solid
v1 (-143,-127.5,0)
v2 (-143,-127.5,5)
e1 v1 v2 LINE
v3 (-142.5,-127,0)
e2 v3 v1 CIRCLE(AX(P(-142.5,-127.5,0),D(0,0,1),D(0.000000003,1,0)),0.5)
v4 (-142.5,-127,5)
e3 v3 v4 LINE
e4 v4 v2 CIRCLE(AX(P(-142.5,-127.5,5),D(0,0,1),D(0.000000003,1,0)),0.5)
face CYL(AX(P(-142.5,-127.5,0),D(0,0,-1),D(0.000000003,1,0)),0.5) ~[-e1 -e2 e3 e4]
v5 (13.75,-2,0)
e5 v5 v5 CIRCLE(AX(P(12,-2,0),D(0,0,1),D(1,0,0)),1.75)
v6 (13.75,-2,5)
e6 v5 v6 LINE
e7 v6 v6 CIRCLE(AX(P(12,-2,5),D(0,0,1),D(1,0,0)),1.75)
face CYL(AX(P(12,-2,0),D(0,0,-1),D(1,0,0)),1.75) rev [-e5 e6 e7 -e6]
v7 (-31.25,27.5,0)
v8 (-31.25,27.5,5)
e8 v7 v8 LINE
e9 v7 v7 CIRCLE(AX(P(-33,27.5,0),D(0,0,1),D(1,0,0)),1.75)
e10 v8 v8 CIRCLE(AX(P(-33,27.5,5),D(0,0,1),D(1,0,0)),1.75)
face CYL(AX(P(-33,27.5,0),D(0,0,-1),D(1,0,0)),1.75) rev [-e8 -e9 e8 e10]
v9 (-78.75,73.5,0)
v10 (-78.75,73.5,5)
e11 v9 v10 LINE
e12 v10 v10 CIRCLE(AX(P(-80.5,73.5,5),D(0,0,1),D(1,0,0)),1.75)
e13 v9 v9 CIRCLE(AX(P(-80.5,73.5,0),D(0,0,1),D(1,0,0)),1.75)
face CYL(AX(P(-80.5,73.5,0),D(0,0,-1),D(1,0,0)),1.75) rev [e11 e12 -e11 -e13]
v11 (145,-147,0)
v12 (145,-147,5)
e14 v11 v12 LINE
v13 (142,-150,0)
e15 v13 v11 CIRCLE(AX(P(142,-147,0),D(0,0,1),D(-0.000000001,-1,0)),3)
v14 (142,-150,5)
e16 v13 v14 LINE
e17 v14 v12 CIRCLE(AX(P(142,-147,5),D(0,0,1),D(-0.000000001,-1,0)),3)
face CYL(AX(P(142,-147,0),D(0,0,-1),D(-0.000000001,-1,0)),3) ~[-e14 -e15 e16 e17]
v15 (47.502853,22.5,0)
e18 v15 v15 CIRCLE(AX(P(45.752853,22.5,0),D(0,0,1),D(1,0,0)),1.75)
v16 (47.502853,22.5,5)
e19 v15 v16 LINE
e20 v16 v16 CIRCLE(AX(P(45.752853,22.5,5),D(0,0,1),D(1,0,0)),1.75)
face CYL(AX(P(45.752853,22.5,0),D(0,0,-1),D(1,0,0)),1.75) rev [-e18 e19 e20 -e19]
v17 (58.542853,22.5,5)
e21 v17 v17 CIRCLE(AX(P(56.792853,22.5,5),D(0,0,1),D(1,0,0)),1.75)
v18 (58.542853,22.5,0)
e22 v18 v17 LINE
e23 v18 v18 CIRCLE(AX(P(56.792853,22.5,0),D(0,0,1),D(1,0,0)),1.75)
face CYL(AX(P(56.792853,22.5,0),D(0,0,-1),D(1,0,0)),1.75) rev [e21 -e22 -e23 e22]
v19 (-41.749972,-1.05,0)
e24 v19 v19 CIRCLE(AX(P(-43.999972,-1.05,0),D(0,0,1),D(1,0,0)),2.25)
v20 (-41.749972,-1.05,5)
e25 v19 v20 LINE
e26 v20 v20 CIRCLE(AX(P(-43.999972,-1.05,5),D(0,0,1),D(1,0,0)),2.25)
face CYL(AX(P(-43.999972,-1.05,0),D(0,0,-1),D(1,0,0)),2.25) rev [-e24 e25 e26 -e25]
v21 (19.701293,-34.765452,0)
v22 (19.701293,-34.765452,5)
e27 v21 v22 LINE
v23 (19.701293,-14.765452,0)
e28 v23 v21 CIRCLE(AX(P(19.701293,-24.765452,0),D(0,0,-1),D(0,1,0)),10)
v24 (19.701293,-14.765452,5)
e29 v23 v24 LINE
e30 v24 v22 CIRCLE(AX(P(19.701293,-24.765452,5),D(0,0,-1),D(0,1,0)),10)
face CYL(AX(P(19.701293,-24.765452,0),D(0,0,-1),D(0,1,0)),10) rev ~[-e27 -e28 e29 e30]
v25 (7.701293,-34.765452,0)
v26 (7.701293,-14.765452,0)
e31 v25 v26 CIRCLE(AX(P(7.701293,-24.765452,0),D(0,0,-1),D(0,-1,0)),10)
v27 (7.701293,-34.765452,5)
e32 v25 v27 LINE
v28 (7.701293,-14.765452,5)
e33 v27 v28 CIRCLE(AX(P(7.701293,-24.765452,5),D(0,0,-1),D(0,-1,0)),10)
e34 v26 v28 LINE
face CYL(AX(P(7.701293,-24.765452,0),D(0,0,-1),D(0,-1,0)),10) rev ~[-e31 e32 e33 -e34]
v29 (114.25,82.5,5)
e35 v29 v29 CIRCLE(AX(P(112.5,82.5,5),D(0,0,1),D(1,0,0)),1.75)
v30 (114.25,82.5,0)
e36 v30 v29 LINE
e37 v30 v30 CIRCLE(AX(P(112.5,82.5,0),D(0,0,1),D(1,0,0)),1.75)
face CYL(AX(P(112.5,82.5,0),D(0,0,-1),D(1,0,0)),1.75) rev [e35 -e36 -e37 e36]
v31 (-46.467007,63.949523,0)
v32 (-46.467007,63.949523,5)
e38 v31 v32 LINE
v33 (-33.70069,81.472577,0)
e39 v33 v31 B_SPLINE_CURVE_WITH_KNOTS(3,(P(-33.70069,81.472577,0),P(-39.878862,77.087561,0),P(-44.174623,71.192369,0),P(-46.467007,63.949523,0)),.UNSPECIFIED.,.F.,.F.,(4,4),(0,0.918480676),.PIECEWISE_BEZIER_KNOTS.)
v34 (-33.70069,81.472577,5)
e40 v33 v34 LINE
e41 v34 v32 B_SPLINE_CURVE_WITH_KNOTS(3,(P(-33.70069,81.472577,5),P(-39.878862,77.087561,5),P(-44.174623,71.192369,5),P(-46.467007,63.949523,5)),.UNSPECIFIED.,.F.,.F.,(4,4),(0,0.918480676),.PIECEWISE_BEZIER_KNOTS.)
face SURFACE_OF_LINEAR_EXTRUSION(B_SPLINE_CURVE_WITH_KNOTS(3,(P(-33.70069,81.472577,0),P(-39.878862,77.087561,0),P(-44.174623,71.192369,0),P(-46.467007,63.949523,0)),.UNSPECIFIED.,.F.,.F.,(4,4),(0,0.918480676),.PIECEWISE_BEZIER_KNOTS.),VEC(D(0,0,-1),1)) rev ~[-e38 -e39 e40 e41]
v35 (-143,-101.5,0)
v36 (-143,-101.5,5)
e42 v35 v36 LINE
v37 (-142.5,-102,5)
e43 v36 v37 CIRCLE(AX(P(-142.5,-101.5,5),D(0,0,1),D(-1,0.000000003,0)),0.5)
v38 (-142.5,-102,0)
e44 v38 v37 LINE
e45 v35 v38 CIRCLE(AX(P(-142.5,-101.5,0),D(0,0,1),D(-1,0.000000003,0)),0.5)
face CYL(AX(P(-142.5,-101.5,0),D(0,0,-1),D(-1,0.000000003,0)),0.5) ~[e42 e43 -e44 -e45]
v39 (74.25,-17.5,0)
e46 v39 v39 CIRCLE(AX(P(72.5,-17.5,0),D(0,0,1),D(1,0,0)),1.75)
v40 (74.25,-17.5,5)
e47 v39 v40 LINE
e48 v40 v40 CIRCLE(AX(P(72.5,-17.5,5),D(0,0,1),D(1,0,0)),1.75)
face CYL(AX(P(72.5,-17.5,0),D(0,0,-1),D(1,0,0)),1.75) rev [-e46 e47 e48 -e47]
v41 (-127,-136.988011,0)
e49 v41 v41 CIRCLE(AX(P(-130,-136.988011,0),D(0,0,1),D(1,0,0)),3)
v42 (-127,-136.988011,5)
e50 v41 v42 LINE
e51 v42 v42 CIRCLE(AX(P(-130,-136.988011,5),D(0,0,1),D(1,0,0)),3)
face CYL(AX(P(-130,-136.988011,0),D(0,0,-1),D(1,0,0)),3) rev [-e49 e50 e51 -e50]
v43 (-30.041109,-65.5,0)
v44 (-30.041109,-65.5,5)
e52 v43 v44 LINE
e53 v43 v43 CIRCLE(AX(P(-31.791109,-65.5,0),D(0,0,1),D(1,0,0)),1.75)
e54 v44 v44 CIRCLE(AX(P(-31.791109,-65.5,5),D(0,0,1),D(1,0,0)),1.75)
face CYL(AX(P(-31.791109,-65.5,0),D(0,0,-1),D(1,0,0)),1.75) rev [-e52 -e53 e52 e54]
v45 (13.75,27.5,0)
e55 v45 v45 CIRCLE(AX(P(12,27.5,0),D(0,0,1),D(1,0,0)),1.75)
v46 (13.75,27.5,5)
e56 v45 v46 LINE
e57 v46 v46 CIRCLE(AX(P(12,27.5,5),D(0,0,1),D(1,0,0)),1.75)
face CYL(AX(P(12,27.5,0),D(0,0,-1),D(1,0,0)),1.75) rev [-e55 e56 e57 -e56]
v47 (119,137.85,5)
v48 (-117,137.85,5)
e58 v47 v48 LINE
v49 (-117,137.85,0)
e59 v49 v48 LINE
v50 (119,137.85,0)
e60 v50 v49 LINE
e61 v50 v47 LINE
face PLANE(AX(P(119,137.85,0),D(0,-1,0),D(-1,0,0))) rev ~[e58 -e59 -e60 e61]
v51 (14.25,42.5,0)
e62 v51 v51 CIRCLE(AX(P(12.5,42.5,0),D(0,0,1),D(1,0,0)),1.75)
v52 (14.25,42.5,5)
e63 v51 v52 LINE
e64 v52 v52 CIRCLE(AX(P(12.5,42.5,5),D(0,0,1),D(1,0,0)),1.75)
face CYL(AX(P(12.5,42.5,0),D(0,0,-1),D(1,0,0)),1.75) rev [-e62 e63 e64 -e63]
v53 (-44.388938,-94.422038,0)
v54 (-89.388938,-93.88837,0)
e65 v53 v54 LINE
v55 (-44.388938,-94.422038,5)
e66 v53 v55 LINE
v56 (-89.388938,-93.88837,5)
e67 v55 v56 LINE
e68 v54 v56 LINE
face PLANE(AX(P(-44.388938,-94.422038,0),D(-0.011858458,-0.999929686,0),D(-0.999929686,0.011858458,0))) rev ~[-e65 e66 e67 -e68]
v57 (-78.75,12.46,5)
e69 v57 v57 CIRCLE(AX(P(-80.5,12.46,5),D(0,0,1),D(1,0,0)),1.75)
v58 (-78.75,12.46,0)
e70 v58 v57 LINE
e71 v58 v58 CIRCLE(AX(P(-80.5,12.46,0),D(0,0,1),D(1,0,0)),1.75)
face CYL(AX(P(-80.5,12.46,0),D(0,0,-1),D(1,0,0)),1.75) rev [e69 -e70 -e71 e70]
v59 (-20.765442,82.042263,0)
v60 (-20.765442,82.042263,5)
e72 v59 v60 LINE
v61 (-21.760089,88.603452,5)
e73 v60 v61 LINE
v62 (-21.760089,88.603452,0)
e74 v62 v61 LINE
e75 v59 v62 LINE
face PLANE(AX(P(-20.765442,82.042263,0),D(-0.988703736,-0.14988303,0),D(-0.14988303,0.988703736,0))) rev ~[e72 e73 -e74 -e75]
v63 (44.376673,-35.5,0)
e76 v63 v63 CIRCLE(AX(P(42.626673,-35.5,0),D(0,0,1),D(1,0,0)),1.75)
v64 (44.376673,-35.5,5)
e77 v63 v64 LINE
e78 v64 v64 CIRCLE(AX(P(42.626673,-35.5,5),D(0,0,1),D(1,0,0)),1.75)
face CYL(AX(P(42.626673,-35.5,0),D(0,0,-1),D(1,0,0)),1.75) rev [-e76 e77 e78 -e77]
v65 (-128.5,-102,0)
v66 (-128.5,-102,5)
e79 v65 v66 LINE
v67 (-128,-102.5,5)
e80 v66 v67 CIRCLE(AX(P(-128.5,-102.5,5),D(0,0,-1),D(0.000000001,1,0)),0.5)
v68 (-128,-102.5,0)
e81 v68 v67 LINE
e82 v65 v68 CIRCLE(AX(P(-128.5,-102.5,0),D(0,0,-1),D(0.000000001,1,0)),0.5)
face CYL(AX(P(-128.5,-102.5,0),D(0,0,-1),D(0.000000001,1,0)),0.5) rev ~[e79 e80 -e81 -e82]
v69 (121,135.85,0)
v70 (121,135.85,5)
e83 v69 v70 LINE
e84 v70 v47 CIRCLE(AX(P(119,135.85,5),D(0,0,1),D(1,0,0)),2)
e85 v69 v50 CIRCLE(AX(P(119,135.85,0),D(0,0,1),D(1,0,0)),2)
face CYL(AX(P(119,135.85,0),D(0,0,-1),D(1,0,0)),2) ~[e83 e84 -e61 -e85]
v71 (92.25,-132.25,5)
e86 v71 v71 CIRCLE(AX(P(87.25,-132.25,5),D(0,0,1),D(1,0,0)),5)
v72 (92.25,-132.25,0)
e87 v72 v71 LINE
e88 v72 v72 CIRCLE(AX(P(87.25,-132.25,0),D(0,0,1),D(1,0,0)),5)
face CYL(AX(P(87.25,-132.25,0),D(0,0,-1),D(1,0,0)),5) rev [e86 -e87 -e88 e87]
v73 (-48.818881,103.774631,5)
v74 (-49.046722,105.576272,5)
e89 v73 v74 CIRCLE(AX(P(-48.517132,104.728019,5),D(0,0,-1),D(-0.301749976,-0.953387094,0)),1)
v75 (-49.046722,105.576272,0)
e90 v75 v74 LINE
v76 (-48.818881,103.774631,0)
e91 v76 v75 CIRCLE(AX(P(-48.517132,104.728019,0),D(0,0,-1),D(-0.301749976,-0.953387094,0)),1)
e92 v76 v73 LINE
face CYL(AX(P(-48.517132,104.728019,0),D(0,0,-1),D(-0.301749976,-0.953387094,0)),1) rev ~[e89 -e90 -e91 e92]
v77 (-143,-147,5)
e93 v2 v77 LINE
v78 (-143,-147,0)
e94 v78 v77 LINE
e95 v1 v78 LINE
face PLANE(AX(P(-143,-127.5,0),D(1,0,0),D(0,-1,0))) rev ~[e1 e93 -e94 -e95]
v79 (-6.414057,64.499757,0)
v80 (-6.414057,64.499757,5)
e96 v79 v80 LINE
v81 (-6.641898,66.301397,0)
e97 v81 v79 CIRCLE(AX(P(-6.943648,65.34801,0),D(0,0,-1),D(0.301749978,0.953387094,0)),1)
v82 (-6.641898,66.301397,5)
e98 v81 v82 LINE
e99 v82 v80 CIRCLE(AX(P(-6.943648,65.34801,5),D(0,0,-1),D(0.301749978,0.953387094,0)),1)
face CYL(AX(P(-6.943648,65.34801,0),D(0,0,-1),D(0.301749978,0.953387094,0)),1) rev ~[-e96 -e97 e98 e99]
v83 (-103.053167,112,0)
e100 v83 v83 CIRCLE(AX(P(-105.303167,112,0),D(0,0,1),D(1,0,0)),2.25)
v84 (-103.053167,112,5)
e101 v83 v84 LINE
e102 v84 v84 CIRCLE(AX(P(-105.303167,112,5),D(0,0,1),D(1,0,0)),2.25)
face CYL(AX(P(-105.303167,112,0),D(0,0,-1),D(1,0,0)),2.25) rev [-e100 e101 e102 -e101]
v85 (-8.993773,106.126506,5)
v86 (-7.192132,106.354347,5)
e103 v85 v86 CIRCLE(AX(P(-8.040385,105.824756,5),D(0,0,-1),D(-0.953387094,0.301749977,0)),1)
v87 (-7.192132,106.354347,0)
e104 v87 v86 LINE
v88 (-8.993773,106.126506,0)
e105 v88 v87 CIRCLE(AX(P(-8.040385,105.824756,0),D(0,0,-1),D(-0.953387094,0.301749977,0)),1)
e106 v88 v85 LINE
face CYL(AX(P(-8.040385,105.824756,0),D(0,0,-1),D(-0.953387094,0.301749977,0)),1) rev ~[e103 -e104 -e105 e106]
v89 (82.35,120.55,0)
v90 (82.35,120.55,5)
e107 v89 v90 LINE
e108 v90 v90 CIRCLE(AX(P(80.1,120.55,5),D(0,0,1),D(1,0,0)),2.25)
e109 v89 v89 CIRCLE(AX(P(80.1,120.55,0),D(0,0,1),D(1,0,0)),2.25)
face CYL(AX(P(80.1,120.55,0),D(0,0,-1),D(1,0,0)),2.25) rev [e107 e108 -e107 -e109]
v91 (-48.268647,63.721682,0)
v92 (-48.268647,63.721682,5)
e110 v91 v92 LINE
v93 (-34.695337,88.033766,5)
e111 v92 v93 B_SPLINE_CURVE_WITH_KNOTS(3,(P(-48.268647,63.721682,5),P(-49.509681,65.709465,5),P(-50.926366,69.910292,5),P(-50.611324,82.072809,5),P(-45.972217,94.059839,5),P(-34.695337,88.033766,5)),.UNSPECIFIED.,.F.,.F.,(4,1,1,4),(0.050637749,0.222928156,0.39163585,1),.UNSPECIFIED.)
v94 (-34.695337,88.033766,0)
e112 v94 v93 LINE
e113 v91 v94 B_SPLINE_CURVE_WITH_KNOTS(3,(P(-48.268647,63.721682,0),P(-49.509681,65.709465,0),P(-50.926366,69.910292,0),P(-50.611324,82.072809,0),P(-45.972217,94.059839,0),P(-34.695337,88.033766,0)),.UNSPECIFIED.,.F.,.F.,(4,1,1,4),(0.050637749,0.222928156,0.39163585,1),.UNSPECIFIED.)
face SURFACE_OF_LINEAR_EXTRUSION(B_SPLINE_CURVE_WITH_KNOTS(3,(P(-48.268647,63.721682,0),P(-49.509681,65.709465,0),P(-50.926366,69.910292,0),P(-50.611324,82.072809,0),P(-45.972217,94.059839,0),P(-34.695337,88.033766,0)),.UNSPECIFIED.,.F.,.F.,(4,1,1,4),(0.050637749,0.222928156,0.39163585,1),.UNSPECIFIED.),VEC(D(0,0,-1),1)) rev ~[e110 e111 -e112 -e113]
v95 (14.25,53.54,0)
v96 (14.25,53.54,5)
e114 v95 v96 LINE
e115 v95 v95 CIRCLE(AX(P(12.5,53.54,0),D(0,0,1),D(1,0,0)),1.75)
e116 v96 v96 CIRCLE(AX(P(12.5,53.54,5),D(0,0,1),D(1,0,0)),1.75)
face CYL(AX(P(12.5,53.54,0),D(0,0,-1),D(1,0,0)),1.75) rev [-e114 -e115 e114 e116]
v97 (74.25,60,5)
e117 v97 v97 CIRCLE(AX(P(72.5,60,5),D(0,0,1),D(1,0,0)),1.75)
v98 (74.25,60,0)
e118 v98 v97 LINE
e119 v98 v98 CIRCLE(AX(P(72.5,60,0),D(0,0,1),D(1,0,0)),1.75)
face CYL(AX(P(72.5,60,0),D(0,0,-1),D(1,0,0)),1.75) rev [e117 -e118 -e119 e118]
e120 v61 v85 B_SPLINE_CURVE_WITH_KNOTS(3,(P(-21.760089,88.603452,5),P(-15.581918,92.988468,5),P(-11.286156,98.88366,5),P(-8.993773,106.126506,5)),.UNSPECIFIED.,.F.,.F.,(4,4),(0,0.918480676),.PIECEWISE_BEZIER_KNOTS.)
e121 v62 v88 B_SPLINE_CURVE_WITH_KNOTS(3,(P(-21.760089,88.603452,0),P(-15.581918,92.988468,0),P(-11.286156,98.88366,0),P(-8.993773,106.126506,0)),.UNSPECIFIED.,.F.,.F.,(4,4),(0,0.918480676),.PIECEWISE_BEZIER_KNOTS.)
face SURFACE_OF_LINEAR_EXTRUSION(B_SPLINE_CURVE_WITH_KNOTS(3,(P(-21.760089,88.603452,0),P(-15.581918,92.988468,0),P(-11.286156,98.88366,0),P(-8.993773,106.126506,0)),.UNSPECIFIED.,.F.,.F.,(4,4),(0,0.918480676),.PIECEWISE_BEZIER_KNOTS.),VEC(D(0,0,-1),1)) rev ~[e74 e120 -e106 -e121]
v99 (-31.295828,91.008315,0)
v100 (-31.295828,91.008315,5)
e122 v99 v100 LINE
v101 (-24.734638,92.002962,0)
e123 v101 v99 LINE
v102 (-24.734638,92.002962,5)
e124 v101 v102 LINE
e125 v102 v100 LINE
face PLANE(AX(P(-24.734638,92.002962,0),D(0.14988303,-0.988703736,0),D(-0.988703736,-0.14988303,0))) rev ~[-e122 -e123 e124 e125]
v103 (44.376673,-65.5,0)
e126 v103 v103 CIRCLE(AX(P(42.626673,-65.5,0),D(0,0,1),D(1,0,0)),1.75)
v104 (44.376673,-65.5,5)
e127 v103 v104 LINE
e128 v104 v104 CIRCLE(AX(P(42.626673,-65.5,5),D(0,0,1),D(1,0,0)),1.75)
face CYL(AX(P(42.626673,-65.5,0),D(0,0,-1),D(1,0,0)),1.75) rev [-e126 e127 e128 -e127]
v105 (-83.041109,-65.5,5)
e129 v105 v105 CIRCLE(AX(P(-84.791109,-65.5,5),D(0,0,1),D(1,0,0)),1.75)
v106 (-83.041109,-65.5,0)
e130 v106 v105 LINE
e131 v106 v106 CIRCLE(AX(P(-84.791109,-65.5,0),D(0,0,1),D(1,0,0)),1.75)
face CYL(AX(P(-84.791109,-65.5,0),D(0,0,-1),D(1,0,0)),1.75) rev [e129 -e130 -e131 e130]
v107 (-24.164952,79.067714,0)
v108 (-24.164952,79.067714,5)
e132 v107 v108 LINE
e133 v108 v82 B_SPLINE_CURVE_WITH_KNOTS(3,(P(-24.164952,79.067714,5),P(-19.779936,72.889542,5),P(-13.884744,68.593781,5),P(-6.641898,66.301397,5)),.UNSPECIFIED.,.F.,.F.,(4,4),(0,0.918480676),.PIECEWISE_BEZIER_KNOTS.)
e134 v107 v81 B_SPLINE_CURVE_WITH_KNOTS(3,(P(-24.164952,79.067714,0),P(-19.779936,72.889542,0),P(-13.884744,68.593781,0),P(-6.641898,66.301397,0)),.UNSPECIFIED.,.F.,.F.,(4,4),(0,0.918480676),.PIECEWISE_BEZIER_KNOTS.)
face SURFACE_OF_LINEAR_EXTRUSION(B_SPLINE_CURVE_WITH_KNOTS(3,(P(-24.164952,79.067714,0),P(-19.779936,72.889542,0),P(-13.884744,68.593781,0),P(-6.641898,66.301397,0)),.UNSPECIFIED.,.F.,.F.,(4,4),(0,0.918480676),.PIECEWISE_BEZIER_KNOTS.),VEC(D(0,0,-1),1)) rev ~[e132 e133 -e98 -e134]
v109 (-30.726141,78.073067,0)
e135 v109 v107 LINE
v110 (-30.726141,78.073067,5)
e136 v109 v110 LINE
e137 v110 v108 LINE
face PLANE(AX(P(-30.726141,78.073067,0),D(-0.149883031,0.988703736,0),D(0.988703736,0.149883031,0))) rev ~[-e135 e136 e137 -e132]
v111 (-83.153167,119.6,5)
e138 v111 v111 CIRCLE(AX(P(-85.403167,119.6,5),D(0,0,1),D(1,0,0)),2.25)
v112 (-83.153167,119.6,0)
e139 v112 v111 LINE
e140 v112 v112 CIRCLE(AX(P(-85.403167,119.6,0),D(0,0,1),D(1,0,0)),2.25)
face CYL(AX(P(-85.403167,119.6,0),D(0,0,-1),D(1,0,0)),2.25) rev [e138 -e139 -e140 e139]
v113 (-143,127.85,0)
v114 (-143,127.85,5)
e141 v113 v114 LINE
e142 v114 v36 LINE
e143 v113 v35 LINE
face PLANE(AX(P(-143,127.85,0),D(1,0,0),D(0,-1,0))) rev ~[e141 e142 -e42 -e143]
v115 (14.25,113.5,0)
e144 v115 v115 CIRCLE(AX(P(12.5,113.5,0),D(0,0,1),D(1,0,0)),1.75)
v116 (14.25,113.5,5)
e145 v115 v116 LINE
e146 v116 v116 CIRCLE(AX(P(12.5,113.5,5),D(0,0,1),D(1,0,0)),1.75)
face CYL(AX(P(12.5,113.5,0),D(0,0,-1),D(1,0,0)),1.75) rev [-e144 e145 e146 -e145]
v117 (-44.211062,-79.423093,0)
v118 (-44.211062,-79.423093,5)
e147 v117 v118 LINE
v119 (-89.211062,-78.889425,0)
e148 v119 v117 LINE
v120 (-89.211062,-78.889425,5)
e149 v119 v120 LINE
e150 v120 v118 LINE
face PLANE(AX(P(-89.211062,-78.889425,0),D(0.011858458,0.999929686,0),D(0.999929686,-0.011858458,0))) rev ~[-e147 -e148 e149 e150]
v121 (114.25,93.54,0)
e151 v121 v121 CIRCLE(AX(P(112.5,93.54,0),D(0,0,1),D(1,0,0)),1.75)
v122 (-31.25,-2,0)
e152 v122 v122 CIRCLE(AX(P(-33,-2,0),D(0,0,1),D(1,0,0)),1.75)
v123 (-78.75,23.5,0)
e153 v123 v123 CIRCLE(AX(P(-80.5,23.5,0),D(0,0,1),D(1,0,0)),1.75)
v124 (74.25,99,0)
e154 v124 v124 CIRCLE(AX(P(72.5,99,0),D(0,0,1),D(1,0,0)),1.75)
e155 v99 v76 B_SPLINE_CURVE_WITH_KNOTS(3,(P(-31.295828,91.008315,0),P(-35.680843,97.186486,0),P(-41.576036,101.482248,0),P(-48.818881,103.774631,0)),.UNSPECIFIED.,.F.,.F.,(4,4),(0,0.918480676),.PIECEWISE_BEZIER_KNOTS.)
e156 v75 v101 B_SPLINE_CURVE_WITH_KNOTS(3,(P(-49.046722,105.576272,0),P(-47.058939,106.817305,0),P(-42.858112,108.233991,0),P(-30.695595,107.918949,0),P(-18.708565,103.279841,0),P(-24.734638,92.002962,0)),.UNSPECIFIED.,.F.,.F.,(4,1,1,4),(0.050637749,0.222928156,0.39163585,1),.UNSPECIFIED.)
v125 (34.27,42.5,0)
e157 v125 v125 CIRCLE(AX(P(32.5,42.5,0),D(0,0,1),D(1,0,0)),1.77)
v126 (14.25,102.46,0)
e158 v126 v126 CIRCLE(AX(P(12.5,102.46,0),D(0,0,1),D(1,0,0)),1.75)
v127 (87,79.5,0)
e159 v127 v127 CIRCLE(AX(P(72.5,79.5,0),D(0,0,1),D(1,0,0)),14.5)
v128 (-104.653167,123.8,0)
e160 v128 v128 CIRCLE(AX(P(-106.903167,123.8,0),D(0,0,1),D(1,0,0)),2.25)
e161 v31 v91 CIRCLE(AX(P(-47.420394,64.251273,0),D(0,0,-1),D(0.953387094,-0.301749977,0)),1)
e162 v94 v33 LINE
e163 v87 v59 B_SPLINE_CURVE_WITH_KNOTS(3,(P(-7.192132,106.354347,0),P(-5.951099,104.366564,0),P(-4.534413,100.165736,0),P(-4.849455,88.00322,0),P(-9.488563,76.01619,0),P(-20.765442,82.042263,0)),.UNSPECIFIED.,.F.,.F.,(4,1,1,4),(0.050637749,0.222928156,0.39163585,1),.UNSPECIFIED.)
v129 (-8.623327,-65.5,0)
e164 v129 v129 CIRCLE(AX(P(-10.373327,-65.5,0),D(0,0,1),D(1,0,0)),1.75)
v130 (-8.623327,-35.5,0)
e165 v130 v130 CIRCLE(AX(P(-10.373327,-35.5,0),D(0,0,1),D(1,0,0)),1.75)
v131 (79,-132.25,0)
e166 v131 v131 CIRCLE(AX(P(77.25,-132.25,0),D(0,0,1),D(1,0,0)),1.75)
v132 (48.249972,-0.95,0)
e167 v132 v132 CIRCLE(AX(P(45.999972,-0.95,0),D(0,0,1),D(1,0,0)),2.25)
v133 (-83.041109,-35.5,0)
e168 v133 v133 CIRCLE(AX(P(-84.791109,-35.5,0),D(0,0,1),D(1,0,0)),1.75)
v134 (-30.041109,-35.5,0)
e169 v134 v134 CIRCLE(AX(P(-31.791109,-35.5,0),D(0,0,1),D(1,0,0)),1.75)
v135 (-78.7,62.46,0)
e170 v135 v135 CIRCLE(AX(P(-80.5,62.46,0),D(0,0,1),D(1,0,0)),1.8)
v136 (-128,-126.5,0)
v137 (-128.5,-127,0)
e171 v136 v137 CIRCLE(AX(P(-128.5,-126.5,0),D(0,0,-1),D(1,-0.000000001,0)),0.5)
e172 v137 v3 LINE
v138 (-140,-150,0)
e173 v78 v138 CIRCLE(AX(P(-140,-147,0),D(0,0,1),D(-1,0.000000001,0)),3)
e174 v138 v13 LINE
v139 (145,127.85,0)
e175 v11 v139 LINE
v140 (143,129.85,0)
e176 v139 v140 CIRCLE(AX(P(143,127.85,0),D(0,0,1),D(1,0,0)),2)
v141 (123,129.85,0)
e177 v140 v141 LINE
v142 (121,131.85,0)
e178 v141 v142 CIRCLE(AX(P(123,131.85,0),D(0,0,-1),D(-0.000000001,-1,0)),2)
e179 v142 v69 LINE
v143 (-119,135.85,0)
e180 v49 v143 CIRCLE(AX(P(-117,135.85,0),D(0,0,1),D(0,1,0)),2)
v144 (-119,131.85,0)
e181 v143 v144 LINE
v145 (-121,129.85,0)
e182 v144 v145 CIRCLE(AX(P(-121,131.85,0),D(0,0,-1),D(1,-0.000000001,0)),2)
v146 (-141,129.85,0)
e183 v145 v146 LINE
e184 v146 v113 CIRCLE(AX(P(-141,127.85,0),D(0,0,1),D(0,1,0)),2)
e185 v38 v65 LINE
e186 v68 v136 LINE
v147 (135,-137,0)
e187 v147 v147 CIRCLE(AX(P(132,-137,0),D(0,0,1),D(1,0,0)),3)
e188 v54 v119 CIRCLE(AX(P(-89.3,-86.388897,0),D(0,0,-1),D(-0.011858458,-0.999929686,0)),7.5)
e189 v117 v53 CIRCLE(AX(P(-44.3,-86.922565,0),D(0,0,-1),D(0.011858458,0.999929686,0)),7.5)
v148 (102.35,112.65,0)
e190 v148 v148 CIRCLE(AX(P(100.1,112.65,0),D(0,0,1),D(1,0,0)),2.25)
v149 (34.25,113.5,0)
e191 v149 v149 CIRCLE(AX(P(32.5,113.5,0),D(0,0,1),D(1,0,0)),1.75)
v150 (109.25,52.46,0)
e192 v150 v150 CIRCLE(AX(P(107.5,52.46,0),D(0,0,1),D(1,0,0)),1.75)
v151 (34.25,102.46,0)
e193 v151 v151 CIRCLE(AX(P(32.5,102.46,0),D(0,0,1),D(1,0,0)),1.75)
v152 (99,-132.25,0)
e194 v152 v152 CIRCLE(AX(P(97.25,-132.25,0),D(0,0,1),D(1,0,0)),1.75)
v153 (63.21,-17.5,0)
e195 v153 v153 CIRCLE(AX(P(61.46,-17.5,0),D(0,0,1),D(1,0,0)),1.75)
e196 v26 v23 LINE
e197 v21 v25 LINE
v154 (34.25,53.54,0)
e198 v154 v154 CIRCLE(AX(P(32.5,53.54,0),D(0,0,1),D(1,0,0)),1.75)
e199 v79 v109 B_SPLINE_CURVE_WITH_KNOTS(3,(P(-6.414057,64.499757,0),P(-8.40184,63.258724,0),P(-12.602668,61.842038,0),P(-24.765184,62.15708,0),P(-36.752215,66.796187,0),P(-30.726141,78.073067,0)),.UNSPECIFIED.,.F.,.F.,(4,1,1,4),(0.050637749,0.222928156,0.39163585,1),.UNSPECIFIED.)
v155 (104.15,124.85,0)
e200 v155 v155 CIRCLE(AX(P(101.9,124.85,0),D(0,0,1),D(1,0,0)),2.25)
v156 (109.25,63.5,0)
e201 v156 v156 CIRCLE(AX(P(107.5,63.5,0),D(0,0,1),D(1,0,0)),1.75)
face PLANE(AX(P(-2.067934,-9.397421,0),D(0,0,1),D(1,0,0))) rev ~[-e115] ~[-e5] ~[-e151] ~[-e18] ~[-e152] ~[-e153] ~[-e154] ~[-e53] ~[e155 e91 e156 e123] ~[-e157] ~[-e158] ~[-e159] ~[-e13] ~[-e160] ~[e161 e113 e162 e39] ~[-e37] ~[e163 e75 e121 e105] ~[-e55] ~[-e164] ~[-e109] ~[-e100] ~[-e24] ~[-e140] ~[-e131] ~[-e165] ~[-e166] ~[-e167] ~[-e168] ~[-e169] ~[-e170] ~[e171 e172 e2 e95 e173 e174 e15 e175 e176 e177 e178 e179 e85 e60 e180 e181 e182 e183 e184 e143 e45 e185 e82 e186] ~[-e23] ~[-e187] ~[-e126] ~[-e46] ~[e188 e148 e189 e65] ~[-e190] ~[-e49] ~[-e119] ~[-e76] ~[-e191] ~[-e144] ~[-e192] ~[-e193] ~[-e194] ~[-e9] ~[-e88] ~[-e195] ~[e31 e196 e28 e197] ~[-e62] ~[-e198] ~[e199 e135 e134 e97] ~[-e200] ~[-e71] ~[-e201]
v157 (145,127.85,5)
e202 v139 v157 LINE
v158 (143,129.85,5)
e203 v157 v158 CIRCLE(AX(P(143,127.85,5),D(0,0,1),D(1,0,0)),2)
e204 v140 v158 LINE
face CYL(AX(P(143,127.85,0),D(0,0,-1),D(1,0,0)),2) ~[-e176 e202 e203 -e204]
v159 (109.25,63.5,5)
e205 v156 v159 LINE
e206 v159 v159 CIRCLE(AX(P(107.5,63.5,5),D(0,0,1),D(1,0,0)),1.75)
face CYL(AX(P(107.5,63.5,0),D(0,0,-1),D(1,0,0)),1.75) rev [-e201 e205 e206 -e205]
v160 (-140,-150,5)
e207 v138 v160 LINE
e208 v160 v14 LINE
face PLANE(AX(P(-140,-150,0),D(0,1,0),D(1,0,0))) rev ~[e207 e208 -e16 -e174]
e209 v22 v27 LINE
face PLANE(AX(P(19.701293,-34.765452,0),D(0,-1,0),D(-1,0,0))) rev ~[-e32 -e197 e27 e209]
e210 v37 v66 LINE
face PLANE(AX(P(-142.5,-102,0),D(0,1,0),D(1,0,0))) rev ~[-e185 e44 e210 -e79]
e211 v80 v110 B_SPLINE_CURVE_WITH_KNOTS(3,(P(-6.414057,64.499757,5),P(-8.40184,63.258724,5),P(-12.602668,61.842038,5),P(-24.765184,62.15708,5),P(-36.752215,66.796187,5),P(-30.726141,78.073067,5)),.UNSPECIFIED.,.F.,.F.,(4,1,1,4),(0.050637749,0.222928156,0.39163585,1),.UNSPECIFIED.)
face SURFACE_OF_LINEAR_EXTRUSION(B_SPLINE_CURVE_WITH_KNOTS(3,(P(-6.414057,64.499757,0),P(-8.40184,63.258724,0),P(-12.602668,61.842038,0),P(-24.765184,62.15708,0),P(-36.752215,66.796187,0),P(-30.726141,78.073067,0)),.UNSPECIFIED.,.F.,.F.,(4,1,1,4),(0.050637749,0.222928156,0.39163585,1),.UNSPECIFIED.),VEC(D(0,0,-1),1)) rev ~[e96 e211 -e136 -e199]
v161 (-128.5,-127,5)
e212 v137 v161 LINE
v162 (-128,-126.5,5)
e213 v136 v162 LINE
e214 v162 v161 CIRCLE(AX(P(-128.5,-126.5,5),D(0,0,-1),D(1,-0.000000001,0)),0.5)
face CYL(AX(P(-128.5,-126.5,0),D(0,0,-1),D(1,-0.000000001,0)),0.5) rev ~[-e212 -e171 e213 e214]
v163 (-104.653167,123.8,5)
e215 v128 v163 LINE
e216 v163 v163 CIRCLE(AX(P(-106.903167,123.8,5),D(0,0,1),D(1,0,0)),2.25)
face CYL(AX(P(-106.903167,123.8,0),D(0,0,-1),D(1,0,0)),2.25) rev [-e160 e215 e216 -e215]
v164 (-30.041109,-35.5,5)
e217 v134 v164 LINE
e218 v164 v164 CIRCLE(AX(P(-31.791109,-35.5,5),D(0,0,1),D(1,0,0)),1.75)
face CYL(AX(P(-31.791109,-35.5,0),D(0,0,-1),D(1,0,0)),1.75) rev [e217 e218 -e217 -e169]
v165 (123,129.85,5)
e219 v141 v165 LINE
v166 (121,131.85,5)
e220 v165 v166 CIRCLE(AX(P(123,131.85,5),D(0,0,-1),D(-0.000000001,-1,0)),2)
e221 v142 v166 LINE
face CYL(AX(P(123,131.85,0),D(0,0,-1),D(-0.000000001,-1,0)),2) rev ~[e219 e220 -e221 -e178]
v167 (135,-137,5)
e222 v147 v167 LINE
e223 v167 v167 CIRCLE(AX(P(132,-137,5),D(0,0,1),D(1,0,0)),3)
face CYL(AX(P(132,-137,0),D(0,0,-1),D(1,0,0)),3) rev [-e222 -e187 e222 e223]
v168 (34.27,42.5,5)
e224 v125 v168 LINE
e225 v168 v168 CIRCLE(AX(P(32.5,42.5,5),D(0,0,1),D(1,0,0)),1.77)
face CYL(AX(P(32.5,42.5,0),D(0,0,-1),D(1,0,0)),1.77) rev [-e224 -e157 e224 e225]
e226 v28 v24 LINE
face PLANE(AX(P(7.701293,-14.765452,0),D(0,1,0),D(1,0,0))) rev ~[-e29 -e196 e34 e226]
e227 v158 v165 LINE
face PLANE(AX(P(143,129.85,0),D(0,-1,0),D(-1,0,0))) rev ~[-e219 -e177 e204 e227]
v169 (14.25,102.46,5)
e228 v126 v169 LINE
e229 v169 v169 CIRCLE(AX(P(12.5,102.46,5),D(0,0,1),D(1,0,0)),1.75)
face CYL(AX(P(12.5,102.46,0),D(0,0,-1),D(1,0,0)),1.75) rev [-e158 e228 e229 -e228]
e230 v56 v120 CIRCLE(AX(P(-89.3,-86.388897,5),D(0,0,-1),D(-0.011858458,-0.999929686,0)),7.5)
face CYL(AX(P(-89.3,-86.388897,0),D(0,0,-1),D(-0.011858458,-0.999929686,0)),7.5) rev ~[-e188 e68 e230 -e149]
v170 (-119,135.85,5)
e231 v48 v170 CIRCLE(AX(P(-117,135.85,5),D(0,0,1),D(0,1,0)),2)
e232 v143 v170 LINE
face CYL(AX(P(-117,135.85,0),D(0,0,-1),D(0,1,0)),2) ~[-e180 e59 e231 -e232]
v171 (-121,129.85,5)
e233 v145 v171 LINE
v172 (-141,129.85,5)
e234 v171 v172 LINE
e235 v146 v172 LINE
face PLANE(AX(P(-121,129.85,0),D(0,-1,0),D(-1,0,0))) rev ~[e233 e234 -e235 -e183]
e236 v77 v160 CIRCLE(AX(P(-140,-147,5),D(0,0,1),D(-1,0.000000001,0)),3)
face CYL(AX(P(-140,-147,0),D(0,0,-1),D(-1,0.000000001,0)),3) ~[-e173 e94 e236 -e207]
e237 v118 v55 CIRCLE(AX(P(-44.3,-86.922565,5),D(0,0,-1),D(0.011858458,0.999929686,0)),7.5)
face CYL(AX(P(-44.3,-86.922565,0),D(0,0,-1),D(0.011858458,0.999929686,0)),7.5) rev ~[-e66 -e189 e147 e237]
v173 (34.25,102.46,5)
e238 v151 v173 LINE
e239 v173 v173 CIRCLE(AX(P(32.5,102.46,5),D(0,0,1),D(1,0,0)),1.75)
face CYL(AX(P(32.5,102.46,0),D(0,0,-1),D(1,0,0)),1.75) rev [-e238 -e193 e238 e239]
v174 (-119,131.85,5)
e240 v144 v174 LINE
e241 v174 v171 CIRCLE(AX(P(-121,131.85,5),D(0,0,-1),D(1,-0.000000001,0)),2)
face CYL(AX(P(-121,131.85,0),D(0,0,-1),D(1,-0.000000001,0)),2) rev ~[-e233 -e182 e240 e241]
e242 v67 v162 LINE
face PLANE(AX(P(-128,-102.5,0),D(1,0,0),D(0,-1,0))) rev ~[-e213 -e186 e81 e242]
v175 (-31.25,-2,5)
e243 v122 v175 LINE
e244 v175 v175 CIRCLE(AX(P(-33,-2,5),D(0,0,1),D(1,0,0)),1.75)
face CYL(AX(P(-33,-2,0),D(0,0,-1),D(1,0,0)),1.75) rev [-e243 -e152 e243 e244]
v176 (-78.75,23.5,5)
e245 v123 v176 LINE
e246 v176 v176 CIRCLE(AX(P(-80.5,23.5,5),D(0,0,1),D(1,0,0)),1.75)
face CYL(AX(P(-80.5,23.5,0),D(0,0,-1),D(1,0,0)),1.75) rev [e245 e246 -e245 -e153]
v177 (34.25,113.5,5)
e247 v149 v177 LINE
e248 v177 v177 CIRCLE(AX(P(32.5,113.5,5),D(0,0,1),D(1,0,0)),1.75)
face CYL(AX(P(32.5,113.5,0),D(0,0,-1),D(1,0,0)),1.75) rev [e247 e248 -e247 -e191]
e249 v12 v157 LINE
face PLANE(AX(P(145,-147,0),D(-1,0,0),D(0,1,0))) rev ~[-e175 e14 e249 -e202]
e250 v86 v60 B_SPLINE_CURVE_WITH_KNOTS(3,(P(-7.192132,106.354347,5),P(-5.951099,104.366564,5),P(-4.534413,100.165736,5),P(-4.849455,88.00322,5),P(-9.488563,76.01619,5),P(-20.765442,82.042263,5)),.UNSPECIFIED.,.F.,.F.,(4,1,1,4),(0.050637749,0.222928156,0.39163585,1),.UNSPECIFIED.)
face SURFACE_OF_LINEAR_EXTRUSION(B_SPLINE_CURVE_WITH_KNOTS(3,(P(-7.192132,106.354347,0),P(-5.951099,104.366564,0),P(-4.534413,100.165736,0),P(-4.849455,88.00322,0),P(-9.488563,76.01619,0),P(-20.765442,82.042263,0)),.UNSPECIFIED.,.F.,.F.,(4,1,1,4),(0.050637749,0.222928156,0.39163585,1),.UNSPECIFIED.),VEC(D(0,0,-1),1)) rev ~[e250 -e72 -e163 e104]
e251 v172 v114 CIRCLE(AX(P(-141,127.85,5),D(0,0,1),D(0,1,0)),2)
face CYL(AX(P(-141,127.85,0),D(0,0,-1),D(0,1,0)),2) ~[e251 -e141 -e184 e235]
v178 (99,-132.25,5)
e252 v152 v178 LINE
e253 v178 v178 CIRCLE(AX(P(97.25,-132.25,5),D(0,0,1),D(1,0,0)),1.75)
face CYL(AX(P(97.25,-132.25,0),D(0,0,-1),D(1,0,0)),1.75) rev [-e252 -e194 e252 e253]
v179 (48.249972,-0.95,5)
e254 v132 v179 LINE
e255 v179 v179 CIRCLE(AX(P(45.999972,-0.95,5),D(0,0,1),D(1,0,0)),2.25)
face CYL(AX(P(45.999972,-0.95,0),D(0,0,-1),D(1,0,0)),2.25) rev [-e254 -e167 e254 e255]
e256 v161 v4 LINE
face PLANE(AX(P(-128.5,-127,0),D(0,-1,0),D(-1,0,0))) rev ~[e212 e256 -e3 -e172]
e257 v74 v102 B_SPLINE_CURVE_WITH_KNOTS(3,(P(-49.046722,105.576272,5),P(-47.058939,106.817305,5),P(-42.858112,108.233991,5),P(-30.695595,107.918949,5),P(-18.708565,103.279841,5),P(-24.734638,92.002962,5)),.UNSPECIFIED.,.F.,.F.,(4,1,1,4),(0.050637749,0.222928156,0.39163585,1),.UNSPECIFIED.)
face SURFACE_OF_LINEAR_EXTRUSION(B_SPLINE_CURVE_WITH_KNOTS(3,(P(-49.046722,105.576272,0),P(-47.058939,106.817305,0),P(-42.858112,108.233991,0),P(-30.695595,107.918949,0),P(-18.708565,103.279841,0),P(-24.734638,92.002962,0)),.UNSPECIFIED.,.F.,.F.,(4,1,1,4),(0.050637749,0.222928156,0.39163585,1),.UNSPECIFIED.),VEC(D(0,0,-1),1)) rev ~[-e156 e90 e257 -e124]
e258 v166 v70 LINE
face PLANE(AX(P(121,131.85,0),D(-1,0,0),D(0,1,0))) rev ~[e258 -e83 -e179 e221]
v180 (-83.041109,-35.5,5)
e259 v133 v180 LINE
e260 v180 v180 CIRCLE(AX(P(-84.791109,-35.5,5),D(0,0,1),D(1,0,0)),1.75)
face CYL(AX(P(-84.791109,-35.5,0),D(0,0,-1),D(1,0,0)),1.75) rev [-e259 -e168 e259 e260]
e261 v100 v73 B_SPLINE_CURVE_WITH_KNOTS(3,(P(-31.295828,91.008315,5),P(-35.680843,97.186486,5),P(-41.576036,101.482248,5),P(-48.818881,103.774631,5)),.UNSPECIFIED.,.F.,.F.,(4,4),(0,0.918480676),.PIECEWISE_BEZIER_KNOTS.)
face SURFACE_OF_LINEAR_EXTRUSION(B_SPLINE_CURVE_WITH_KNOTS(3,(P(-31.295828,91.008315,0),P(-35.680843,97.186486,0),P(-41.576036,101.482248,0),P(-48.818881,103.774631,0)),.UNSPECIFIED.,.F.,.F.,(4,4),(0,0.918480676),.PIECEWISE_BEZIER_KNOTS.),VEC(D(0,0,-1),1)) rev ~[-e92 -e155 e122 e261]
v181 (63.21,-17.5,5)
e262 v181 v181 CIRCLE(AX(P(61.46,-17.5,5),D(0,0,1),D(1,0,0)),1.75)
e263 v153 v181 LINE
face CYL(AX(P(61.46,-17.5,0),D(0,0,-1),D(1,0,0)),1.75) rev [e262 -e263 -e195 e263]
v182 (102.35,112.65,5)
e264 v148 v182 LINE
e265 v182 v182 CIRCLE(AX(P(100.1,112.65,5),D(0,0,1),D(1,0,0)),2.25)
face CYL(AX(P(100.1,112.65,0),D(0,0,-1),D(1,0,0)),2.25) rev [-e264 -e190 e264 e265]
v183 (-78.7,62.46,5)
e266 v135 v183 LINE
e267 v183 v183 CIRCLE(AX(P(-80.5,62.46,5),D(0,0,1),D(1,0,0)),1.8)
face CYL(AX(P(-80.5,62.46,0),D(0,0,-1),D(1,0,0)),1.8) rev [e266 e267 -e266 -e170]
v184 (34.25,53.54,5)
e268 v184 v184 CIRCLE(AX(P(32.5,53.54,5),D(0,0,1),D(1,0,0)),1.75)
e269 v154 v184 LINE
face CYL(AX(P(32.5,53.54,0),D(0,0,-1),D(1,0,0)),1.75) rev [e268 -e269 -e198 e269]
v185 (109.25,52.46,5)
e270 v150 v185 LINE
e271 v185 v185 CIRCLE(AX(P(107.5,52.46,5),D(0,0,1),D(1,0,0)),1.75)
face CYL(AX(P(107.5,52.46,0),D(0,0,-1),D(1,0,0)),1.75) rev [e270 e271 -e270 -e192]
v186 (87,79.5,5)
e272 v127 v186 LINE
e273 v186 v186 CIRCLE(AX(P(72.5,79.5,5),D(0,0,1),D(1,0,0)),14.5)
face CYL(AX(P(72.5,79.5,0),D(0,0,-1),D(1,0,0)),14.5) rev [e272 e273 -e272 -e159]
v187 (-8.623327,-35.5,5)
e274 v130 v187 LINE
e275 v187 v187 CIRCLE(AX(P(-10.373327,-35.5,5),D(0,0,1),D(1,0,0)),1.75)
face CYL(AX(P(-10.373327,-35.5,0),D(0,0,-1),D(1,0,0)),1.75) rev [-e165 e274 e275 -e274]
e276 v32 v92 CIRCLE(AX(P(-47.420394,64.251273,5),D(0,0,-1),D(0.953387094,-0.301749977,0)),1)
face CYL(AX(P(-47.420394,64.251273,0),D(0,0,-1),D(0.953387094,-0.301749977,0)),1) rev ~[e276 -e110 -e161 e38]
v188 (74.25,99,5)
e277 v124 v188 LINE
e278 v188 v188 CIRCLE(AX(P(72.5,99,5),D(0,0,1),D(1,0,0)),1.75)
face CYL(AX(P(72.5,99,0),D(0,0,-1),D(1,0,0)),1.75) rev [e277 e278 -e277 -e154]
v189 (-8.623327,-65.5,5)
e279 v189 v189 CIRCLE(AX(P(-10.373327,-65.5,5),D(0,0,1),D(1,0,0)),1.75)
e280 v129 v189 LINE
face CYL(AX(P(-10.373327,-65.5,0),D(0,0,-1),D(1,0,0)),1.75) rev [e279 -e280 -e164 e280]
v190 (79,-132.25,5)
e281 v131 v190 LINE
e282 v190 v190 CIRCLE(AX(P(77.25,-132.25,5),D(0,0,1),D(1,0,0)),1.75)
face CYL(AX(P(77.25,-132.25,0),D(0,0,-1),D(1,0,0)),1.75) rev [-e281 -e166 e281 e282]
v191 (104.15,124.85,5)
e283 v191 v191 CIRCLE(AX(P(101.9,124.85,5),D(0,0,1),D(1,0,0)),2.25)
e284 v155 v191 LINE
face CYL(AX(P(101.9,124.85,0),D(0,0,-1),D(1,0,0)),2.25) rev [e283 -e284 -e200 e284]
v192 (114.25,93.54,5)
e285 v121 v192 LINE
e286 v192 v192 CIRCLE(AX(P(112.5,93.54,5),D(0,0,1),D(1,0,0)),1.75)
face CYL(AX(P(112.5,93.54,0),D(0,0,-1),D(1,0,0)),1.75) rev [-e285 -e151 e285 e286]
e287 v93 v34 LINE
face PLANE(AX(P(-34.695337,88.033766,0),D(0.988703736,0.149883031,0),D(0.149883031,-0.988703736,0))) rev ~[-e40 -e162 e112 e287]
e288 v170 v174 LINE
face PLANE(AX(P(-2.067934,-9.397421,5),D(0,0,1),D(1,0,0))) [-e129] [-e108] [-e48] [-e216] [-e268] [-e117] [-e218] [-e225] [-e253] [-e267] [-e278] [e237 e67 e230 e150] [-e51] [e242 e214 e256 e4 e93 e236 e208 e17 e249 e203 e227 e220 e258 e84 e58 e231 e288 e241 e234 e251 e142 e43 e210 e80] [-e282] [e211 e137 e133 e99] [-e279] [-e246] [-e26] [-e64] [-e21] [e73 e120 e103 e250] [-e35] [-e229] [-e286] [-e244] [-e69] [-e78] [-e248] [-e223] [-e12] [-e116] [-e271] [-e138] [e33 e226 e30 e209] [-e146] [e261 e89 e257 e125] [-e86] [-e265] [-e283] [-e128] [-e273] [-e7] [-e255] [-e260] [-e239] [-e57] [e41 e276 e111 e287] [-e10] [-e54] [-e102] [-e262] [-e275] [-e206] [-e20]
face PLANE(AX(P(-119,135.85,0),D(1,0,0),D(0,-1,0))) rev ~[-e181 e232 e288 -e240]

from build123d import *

# Parameters (mm, degrees)
SKETCH1_R           = 3
SKETCH1_R_2         = 2.25
SKETCH1_R_3         = 1.75
SKETCH1_R_4         = 14.5
SKETCH1_R_5         = 1.77
SKETCH1_R_6         = 1.8
SKETCH1_R_7         = 5
BOSS_EXTRUDE1_DEPTH = 5


with BuildPart() as part:
    # Sketch1 → Boss-Extrude1 (new body)
    with BuildSketch(Plane.XY):
        with BuildLine():
            Line((119, 137.85), (-117, 137.85))
            ThreePointArc((-117, 137.85), (-118.414213562, 137.264213563), (-119, 135.85))
            Line((-119, 135.85), (-119, 131.85))
            ThreePointArc((-119, 131.85), (-119.585786438, 130.435786438), (-121, 129.85))
            Line((-121, 129.85), (-141, 129.85))
            ThreePointArc((-141, 129.85), (-142.414213562, 129.264213563), (-143, 127.85))
            Line((-143, 127.85), (-143, -101.5))
            ThreePointArc((-143, -101.5), (-142.853553391, -101.853553391), (-142.5, -102))
            Line((-142.5, -102), (-128.5, -102))
            ThreePointArc((-128.5, -102), (-128.14644661, -102.146446609), (-128, -102.5))
            Line((-128, -102.5), (-128, -126.5))
            ThreePointArc((-128, -126.5), (-128.14644661, -126.853553391), (-128.5, -127))
            Line((-128.5, -127), (-142.5, -127))
            ThreePointArc((-142.5, -127), (-142.853553391, -127.146446609), (-143, -127.5))
            Line((-143, -127.5), (-143, -147))
            ThreePointArc((-143, -147), (-142.121320344, -149.121320344), (-140, -150))
            Line((-140, -150), (142, -150))
            ThreePointArc((142, -150), (144.121320344, -149.121320344), (145, -147))
            Line((145, -147), (145, 127.85))
            ThreePointArc((145, 127.85), (144.414213562, 129.264213563), (143, 129.85))
            Line((143, 129.85), (123, 129.85))
            ThreePointArc((123, 129.85), (121.585786438, 130.435786438), (121, 131.85))
            Line((121, 131.85), (121, 135.85))
            ThreePointArc((121, 135.85), (120.414213562, 137.264213563), (119, 137.85))
        make_face()
        with Locations((132, -137)):
            Circle(SKETCH1_R, mode=Mode.SUBTRACT)
        with Locations((-130, -136.98801067)):
            Circle(SKETCH1_R, mode=Mode.SUBTRACT)
        with Locations((80.1, 120.55)):
            Circle(SKETCH1_R_2, mode=Mode.SUBTRACT)
        with Locations((101.9, 124.85)):
            Circle(SKETCH1_R_2, mode=Mode.SUBTRACT)
        with Locations((100.1, 112.65)):
            Circle(SKETCH1_R_2, mode=Mode.SUBTRACT)
        with Locations((-85.403167437, 119.6)):
            Circle(SKETCH1_R_2, mode=Mode.SUBTRACT)
        with Locations((-105.303167437, 112)):
            Circle(SKETCH1_R_2, mode=Mode.SUBTRACT)
        with Locations((-106.903167437, 123.8)):
            Circle(SKETCH1_R_2, mode=Mode.SUBTRACT)
        with Locations((-84.791108936, -35.5)):
            Circle(SKETCH1_R_3, mode=Mode.SUBTRACT)
        with Locations((45.999972222, -0.949999618)):
            Circle(SKETCH1_R_2, mode=Mode.SUBTRACT)
        with Locations((-84.791108936, -65.5)):
            Circle(SKETCH1_R_3, mode=Mode.SUBTRACT)
        with Locations((-43.999972222, -1.050000381)):
            Circle(SKETCH1_R_2, mode=Mode.SUBTRACT)
        with Locations((72.5, 79.5)):
            Circle(SKETCH1_R_4, mode=Mode.SUBTRACT)
        with Locations((-31.791108936, -65.5)):
            Circle(SKETCH1_R_3, mode=Mode.SUBTRACT)
        with Locations((72.5, 60)):
            Circle(SKETCH1_R_3, mode=Mode.SUBTRACT)
        with Locations((72.5, 99)):
            Circle(SKETCH1_R_3, mode=Mode.SUBTRACT)
        with Locations((-10.373326807, -65.5)):
            Circle(SKETCH1_R_3, mode=Mode.SUBTRACT)
        with Locations((42.626673193, -65.5)):
            Circle(SKETCH1_R_3, mode=Mode.SUBTRACT)
        with Locations((42.626673193, -35.5)):
            Circle(SKETCH1_R_3, mode=Mode.SUBTRACT)
        with Locations((-31.791108936, -35.5)):
            Circle(SKETCH1_R_3, mode=Mode.SUBTRACT)
        with Locations((-10.373326807, -35.5)):
            Circle(SKETCH1_R_3, mode=Mode.SUBTRACT)
        with Locations((-33, 27.5)):
            Circle(SKETCH1_R_3, mode=Mode.SUBTRACT)
        with Locations((-33, -2)):
            Circle(SKETCH1_R_3, mode=Mode.SUBTRACT)
        with Locations((12, 27.5)):
            Circle(SKETCH1_R_3, mode=Mode.SUBTRACT)
        with Locations((12, -2)):
            Circle(SKETCH1_R_3, mode=Mode.SUBTRACT)
        with Locations((12.5, 113.5)):
            Circle(SKETCH1_R_3, mode=Mode.SUBTRACT)
        with Locations((12.5, 102.46)):
            Circle(SKETCH1_R_3, mode=Mode.SUBTRACT)
        with Locations((32.5, 113.5)):
            Circle(SKETCH1_R_3, mode=Mode.SUBTRACT)
        with Locations((32.5, 102.46)):
            Circle(SKETCH1_R_3, mode=Mode.SUBTRACT)
        with Locations((12.5, 53.54)):
            Circle(SKETCH1_R_3, mode=Mode.SUBTRACT)
        with Locations((32.5, 53.54)):
            Circle(SKETCH1_R_3, mode=Mode.SUBTRACT)
        with Locations((32.5, 42.5)):
            Circle(SKETCH1_R_5, mode=Mode.SUBTRACT)
        with Locations((12.5, 42.5)):
            Circle(SKETCH1_R_3, mode=Mode.SUBTRACT)
        with Locations((45.752852724, 22.5)):
            Circle(SKETCH1_R_3, mode=Mode.SUBTRACT)
        with Locations((56.792852724, 22.5)):
            Circle(SKETCH1_R_3, mode=Mode.SUBTRACT)
        with Locations((61.46, -17.5)):
            Circle(SKETCH1_R_3, mode=Mode.SUBTRACT)
        with Locations((72.5, -17.5)):
            Circle(SKETCH1_R_3, mode=Mode.SUBTRACT)
        with Locations((-80.5, 23.5)):
            Circle(SKETCH1_R_3, mode=Mode.SUBTRACT)
        with Locations((-80.5, 12.46)):
            Circle(SKETCH1_R_3, mode=Mode.SUBTRACT)
        with Locations((112.5, 93.54)):
            Circle(SKETCH1_R_3, mode=Mode.SUBTRACT)
        with Locations((112.5, 82.5)):
            Circle(SKETCH1_R_3, mode=Mode.SUBTRACT)
        with Locations((107.5, 63.5)):
            Circle(SKETCH1_R_3, mode=Mode.SUBTRACT)
        with Locations((107.5, 52.46)):
            Circle(SKETCH1_R_3, mode=Mode.SUBTRACT)
        with Locations((-80.5, 73.5)):
            Circle(SKETCH1_R_3, mode=Mode.SUBTRACT)
        with Locations((-80.5, 62.46)):
            Circle(SKETCH1_R_6, mode=Mode.SUBTRACT)
        with Locations((87.25, -132.25)):
            Circle(SKETCH1_R_7, mode=Mode.SUBTRACT)
        with Locations((77.25, -132.25)):
            Circle(SKETCH1_R_3, mode=Mode.SUBTRACT)
        with Locations((97.25, -132.25)):
            Circle(SKETCH1_R_3, mode=Mode.SUBTRACT)
        with BuildLine():
            Line((7.701292612, -14.765451744), (19.701292612, -14.765451744))
            ThreePointArc((19.701292612, -14.765451744), (29.701292612, -24.765451744), (19.701292612, -34.765451744))
            Line((19.701292612, -34.765451744), (7.701292612, -34.765451744))
            ThreePointArc((7.701292612, -34.765451744), (-2.298707388, -24.765451744), (7.701292612, -14.765451744))
        make_face(mode=Mode.SUBTRACT)
        with BuildLine():
            Line((-89.211061563, -78.889424509), (-44.211061563, -79.423092657))
            ThreePointArc((-44.211061563, -79.423092657), (-36.800527355, -87.01150374), (-44.388938437, -94.422037947))
            Line((-44.388938437, -94.422037947), (-89.388938437, -93.888369799))
            ThreePointArc((-89.388938437, -93.888369799), (-96.799472645, -86.299958717), (-89.211061563, -78.889424509))
        make_face(mode=Mode.SUBTRACT)
        with BuildLine():
            Line((-20.765442271, 82.042263173), (-21.760088994, 88.603452442))
            add(Edge.make_bspline(
                [(-21.760088994, 88.603452442), (-15.581917564, 92.98846813), (-11.286155824, 98.883660406), (-8.99377257, 106.126506389)],
                knots=[0, 0, 0, 0, 0.918480676, 0.918480676, 0.918480676, 0.918480676], degree=3))
            ThreePointArc((-8.99377257, 106.126506389), (-8.165849028, 106.816854641), (-7.192132058, 106.35434695))
            add(Edge.make_bspline(
                [(-7.192132058, 106.35434695), (-5.951098608, 104.366564333), (-4.534413043, 100.165736474), (-4.849455476, 88.003219654), (-9.488562584, 76.016189543), (-20.765442271, 82.042263173)],
                knots=[0.050637749, 0.050637749, 0.050637749, 0.050637749, 0.222928156, 0.39163585, 1, 1, 1, 1], degree=3))
        make_face(mode=Mode.SUBTRACT)
        with BuildLine():
            Line((-30.72614089, 78.073067173), (-24.164951621, 79.067713897))
            add(Edge.make_bspline(
                [(-24.164951621, 79.067713897), (-19.779935933, 72.889542467), (-13.884743657, 68.593780727), (-6.641897674, 66.301397473)],
                knots=[0, 0, 0, 0, 0.918480676, 0.918480676, 0.918480676, 0.918480676], degree=3))
            ThreePointArc((-6.641897674, 66.301397473), (-5.951549422, 65.47347393), (-6.414057113, 64.49975696))
            add(Edge.make_bspline(
                [(-6.414057113, 64.49975696), (-8.40183973, 63.25872351), (-12.602667589, 61.842037945), (-24.765184409, 62.157080378), (-36.75221452, 66.796187486), (-30.72614089, 78.073067173)],
                knots=[0.050637749, 0.050637749, 0.050637749, 0.050637749, 0.222928156, 0.39163585, 1, 1, 1, 1], degree=3))
        make_face(mode=Mode.SUBTRACT)
        with BuildLine():
            Line((-34.69533689, 88.033765792), (-33.700690166, 81.472576523))
            add(Edge.make_bspline(
                [(-33.700690166, 81.472576523), (-39.878861596, 77.087560835), (-44.174623336, 71.192368559), (-46.46700659, 63.949522577)],
                knots=[0, 0, 0, 0, 0.918480676, 0.918480676, 0.918480676, 0.918480676], degree=3))
            ThreePointArc((-46.46700659, 63.949522577), (-47.294930133, 63.259174324), (-48.268647103, 63.721682015))
            add(Edge.make_bspline(
                [(-48.268647103, 63.721682015), (-49.509680553, 65.709464633), (-50.926366118, 69.910292491), (-50.611323685, 82.072809312), (-45.972216577, 94.059839422), (-34.69533689, 88.033765792)],
                knots=[0.050637749, 0.050637749, 0.050637749, 0.050637749, 0.222928156, 0.39163585, 1, 1, 1, 1], degree=3))
        make_face(mode=Mode.SUBTRACT)
        with BuildLine():
            Line((-24.734638271, 92.002961792), (-31.29582754, 91.008315069))
            add(Edge.make_bspline(
                [(-31.29582754, 91.008315069), (-35.680843228, 97.186486499), (-41.576035504, 101.482248239), (-48.818881486, 103.774631493)],
                knots=[0, 0, 0, 0, 0.918480676, 0.918480676, 0.918480676, 0.918480676], degree=3))
            ThreePointArc((-48.818881486, 103.774631493), (-49.509229739, 104.602555035), (-49.046722048, 105.576272005))
            add(Edge.make_bspline(
                [(-49.046722048, 105.576272005), (-47.05893943, 106.817305455), (-42.858111572, 108.23399102), (-30.695594751, 107.918948587), (-18.708564641, 103.279841479), (-24.734638271, 92.002961792)],
                knots=[0.050637749, 0.050637749, 0.050637749, 0.050637749, 0.222928156, 0.39163585, 1, 1, 1, 1], degree=3))
        make_face(mode=Mode.SUBTRACT)
    extrude(amount=BOSS_EXTRUDE1_DEPTH)


solid = part.part
